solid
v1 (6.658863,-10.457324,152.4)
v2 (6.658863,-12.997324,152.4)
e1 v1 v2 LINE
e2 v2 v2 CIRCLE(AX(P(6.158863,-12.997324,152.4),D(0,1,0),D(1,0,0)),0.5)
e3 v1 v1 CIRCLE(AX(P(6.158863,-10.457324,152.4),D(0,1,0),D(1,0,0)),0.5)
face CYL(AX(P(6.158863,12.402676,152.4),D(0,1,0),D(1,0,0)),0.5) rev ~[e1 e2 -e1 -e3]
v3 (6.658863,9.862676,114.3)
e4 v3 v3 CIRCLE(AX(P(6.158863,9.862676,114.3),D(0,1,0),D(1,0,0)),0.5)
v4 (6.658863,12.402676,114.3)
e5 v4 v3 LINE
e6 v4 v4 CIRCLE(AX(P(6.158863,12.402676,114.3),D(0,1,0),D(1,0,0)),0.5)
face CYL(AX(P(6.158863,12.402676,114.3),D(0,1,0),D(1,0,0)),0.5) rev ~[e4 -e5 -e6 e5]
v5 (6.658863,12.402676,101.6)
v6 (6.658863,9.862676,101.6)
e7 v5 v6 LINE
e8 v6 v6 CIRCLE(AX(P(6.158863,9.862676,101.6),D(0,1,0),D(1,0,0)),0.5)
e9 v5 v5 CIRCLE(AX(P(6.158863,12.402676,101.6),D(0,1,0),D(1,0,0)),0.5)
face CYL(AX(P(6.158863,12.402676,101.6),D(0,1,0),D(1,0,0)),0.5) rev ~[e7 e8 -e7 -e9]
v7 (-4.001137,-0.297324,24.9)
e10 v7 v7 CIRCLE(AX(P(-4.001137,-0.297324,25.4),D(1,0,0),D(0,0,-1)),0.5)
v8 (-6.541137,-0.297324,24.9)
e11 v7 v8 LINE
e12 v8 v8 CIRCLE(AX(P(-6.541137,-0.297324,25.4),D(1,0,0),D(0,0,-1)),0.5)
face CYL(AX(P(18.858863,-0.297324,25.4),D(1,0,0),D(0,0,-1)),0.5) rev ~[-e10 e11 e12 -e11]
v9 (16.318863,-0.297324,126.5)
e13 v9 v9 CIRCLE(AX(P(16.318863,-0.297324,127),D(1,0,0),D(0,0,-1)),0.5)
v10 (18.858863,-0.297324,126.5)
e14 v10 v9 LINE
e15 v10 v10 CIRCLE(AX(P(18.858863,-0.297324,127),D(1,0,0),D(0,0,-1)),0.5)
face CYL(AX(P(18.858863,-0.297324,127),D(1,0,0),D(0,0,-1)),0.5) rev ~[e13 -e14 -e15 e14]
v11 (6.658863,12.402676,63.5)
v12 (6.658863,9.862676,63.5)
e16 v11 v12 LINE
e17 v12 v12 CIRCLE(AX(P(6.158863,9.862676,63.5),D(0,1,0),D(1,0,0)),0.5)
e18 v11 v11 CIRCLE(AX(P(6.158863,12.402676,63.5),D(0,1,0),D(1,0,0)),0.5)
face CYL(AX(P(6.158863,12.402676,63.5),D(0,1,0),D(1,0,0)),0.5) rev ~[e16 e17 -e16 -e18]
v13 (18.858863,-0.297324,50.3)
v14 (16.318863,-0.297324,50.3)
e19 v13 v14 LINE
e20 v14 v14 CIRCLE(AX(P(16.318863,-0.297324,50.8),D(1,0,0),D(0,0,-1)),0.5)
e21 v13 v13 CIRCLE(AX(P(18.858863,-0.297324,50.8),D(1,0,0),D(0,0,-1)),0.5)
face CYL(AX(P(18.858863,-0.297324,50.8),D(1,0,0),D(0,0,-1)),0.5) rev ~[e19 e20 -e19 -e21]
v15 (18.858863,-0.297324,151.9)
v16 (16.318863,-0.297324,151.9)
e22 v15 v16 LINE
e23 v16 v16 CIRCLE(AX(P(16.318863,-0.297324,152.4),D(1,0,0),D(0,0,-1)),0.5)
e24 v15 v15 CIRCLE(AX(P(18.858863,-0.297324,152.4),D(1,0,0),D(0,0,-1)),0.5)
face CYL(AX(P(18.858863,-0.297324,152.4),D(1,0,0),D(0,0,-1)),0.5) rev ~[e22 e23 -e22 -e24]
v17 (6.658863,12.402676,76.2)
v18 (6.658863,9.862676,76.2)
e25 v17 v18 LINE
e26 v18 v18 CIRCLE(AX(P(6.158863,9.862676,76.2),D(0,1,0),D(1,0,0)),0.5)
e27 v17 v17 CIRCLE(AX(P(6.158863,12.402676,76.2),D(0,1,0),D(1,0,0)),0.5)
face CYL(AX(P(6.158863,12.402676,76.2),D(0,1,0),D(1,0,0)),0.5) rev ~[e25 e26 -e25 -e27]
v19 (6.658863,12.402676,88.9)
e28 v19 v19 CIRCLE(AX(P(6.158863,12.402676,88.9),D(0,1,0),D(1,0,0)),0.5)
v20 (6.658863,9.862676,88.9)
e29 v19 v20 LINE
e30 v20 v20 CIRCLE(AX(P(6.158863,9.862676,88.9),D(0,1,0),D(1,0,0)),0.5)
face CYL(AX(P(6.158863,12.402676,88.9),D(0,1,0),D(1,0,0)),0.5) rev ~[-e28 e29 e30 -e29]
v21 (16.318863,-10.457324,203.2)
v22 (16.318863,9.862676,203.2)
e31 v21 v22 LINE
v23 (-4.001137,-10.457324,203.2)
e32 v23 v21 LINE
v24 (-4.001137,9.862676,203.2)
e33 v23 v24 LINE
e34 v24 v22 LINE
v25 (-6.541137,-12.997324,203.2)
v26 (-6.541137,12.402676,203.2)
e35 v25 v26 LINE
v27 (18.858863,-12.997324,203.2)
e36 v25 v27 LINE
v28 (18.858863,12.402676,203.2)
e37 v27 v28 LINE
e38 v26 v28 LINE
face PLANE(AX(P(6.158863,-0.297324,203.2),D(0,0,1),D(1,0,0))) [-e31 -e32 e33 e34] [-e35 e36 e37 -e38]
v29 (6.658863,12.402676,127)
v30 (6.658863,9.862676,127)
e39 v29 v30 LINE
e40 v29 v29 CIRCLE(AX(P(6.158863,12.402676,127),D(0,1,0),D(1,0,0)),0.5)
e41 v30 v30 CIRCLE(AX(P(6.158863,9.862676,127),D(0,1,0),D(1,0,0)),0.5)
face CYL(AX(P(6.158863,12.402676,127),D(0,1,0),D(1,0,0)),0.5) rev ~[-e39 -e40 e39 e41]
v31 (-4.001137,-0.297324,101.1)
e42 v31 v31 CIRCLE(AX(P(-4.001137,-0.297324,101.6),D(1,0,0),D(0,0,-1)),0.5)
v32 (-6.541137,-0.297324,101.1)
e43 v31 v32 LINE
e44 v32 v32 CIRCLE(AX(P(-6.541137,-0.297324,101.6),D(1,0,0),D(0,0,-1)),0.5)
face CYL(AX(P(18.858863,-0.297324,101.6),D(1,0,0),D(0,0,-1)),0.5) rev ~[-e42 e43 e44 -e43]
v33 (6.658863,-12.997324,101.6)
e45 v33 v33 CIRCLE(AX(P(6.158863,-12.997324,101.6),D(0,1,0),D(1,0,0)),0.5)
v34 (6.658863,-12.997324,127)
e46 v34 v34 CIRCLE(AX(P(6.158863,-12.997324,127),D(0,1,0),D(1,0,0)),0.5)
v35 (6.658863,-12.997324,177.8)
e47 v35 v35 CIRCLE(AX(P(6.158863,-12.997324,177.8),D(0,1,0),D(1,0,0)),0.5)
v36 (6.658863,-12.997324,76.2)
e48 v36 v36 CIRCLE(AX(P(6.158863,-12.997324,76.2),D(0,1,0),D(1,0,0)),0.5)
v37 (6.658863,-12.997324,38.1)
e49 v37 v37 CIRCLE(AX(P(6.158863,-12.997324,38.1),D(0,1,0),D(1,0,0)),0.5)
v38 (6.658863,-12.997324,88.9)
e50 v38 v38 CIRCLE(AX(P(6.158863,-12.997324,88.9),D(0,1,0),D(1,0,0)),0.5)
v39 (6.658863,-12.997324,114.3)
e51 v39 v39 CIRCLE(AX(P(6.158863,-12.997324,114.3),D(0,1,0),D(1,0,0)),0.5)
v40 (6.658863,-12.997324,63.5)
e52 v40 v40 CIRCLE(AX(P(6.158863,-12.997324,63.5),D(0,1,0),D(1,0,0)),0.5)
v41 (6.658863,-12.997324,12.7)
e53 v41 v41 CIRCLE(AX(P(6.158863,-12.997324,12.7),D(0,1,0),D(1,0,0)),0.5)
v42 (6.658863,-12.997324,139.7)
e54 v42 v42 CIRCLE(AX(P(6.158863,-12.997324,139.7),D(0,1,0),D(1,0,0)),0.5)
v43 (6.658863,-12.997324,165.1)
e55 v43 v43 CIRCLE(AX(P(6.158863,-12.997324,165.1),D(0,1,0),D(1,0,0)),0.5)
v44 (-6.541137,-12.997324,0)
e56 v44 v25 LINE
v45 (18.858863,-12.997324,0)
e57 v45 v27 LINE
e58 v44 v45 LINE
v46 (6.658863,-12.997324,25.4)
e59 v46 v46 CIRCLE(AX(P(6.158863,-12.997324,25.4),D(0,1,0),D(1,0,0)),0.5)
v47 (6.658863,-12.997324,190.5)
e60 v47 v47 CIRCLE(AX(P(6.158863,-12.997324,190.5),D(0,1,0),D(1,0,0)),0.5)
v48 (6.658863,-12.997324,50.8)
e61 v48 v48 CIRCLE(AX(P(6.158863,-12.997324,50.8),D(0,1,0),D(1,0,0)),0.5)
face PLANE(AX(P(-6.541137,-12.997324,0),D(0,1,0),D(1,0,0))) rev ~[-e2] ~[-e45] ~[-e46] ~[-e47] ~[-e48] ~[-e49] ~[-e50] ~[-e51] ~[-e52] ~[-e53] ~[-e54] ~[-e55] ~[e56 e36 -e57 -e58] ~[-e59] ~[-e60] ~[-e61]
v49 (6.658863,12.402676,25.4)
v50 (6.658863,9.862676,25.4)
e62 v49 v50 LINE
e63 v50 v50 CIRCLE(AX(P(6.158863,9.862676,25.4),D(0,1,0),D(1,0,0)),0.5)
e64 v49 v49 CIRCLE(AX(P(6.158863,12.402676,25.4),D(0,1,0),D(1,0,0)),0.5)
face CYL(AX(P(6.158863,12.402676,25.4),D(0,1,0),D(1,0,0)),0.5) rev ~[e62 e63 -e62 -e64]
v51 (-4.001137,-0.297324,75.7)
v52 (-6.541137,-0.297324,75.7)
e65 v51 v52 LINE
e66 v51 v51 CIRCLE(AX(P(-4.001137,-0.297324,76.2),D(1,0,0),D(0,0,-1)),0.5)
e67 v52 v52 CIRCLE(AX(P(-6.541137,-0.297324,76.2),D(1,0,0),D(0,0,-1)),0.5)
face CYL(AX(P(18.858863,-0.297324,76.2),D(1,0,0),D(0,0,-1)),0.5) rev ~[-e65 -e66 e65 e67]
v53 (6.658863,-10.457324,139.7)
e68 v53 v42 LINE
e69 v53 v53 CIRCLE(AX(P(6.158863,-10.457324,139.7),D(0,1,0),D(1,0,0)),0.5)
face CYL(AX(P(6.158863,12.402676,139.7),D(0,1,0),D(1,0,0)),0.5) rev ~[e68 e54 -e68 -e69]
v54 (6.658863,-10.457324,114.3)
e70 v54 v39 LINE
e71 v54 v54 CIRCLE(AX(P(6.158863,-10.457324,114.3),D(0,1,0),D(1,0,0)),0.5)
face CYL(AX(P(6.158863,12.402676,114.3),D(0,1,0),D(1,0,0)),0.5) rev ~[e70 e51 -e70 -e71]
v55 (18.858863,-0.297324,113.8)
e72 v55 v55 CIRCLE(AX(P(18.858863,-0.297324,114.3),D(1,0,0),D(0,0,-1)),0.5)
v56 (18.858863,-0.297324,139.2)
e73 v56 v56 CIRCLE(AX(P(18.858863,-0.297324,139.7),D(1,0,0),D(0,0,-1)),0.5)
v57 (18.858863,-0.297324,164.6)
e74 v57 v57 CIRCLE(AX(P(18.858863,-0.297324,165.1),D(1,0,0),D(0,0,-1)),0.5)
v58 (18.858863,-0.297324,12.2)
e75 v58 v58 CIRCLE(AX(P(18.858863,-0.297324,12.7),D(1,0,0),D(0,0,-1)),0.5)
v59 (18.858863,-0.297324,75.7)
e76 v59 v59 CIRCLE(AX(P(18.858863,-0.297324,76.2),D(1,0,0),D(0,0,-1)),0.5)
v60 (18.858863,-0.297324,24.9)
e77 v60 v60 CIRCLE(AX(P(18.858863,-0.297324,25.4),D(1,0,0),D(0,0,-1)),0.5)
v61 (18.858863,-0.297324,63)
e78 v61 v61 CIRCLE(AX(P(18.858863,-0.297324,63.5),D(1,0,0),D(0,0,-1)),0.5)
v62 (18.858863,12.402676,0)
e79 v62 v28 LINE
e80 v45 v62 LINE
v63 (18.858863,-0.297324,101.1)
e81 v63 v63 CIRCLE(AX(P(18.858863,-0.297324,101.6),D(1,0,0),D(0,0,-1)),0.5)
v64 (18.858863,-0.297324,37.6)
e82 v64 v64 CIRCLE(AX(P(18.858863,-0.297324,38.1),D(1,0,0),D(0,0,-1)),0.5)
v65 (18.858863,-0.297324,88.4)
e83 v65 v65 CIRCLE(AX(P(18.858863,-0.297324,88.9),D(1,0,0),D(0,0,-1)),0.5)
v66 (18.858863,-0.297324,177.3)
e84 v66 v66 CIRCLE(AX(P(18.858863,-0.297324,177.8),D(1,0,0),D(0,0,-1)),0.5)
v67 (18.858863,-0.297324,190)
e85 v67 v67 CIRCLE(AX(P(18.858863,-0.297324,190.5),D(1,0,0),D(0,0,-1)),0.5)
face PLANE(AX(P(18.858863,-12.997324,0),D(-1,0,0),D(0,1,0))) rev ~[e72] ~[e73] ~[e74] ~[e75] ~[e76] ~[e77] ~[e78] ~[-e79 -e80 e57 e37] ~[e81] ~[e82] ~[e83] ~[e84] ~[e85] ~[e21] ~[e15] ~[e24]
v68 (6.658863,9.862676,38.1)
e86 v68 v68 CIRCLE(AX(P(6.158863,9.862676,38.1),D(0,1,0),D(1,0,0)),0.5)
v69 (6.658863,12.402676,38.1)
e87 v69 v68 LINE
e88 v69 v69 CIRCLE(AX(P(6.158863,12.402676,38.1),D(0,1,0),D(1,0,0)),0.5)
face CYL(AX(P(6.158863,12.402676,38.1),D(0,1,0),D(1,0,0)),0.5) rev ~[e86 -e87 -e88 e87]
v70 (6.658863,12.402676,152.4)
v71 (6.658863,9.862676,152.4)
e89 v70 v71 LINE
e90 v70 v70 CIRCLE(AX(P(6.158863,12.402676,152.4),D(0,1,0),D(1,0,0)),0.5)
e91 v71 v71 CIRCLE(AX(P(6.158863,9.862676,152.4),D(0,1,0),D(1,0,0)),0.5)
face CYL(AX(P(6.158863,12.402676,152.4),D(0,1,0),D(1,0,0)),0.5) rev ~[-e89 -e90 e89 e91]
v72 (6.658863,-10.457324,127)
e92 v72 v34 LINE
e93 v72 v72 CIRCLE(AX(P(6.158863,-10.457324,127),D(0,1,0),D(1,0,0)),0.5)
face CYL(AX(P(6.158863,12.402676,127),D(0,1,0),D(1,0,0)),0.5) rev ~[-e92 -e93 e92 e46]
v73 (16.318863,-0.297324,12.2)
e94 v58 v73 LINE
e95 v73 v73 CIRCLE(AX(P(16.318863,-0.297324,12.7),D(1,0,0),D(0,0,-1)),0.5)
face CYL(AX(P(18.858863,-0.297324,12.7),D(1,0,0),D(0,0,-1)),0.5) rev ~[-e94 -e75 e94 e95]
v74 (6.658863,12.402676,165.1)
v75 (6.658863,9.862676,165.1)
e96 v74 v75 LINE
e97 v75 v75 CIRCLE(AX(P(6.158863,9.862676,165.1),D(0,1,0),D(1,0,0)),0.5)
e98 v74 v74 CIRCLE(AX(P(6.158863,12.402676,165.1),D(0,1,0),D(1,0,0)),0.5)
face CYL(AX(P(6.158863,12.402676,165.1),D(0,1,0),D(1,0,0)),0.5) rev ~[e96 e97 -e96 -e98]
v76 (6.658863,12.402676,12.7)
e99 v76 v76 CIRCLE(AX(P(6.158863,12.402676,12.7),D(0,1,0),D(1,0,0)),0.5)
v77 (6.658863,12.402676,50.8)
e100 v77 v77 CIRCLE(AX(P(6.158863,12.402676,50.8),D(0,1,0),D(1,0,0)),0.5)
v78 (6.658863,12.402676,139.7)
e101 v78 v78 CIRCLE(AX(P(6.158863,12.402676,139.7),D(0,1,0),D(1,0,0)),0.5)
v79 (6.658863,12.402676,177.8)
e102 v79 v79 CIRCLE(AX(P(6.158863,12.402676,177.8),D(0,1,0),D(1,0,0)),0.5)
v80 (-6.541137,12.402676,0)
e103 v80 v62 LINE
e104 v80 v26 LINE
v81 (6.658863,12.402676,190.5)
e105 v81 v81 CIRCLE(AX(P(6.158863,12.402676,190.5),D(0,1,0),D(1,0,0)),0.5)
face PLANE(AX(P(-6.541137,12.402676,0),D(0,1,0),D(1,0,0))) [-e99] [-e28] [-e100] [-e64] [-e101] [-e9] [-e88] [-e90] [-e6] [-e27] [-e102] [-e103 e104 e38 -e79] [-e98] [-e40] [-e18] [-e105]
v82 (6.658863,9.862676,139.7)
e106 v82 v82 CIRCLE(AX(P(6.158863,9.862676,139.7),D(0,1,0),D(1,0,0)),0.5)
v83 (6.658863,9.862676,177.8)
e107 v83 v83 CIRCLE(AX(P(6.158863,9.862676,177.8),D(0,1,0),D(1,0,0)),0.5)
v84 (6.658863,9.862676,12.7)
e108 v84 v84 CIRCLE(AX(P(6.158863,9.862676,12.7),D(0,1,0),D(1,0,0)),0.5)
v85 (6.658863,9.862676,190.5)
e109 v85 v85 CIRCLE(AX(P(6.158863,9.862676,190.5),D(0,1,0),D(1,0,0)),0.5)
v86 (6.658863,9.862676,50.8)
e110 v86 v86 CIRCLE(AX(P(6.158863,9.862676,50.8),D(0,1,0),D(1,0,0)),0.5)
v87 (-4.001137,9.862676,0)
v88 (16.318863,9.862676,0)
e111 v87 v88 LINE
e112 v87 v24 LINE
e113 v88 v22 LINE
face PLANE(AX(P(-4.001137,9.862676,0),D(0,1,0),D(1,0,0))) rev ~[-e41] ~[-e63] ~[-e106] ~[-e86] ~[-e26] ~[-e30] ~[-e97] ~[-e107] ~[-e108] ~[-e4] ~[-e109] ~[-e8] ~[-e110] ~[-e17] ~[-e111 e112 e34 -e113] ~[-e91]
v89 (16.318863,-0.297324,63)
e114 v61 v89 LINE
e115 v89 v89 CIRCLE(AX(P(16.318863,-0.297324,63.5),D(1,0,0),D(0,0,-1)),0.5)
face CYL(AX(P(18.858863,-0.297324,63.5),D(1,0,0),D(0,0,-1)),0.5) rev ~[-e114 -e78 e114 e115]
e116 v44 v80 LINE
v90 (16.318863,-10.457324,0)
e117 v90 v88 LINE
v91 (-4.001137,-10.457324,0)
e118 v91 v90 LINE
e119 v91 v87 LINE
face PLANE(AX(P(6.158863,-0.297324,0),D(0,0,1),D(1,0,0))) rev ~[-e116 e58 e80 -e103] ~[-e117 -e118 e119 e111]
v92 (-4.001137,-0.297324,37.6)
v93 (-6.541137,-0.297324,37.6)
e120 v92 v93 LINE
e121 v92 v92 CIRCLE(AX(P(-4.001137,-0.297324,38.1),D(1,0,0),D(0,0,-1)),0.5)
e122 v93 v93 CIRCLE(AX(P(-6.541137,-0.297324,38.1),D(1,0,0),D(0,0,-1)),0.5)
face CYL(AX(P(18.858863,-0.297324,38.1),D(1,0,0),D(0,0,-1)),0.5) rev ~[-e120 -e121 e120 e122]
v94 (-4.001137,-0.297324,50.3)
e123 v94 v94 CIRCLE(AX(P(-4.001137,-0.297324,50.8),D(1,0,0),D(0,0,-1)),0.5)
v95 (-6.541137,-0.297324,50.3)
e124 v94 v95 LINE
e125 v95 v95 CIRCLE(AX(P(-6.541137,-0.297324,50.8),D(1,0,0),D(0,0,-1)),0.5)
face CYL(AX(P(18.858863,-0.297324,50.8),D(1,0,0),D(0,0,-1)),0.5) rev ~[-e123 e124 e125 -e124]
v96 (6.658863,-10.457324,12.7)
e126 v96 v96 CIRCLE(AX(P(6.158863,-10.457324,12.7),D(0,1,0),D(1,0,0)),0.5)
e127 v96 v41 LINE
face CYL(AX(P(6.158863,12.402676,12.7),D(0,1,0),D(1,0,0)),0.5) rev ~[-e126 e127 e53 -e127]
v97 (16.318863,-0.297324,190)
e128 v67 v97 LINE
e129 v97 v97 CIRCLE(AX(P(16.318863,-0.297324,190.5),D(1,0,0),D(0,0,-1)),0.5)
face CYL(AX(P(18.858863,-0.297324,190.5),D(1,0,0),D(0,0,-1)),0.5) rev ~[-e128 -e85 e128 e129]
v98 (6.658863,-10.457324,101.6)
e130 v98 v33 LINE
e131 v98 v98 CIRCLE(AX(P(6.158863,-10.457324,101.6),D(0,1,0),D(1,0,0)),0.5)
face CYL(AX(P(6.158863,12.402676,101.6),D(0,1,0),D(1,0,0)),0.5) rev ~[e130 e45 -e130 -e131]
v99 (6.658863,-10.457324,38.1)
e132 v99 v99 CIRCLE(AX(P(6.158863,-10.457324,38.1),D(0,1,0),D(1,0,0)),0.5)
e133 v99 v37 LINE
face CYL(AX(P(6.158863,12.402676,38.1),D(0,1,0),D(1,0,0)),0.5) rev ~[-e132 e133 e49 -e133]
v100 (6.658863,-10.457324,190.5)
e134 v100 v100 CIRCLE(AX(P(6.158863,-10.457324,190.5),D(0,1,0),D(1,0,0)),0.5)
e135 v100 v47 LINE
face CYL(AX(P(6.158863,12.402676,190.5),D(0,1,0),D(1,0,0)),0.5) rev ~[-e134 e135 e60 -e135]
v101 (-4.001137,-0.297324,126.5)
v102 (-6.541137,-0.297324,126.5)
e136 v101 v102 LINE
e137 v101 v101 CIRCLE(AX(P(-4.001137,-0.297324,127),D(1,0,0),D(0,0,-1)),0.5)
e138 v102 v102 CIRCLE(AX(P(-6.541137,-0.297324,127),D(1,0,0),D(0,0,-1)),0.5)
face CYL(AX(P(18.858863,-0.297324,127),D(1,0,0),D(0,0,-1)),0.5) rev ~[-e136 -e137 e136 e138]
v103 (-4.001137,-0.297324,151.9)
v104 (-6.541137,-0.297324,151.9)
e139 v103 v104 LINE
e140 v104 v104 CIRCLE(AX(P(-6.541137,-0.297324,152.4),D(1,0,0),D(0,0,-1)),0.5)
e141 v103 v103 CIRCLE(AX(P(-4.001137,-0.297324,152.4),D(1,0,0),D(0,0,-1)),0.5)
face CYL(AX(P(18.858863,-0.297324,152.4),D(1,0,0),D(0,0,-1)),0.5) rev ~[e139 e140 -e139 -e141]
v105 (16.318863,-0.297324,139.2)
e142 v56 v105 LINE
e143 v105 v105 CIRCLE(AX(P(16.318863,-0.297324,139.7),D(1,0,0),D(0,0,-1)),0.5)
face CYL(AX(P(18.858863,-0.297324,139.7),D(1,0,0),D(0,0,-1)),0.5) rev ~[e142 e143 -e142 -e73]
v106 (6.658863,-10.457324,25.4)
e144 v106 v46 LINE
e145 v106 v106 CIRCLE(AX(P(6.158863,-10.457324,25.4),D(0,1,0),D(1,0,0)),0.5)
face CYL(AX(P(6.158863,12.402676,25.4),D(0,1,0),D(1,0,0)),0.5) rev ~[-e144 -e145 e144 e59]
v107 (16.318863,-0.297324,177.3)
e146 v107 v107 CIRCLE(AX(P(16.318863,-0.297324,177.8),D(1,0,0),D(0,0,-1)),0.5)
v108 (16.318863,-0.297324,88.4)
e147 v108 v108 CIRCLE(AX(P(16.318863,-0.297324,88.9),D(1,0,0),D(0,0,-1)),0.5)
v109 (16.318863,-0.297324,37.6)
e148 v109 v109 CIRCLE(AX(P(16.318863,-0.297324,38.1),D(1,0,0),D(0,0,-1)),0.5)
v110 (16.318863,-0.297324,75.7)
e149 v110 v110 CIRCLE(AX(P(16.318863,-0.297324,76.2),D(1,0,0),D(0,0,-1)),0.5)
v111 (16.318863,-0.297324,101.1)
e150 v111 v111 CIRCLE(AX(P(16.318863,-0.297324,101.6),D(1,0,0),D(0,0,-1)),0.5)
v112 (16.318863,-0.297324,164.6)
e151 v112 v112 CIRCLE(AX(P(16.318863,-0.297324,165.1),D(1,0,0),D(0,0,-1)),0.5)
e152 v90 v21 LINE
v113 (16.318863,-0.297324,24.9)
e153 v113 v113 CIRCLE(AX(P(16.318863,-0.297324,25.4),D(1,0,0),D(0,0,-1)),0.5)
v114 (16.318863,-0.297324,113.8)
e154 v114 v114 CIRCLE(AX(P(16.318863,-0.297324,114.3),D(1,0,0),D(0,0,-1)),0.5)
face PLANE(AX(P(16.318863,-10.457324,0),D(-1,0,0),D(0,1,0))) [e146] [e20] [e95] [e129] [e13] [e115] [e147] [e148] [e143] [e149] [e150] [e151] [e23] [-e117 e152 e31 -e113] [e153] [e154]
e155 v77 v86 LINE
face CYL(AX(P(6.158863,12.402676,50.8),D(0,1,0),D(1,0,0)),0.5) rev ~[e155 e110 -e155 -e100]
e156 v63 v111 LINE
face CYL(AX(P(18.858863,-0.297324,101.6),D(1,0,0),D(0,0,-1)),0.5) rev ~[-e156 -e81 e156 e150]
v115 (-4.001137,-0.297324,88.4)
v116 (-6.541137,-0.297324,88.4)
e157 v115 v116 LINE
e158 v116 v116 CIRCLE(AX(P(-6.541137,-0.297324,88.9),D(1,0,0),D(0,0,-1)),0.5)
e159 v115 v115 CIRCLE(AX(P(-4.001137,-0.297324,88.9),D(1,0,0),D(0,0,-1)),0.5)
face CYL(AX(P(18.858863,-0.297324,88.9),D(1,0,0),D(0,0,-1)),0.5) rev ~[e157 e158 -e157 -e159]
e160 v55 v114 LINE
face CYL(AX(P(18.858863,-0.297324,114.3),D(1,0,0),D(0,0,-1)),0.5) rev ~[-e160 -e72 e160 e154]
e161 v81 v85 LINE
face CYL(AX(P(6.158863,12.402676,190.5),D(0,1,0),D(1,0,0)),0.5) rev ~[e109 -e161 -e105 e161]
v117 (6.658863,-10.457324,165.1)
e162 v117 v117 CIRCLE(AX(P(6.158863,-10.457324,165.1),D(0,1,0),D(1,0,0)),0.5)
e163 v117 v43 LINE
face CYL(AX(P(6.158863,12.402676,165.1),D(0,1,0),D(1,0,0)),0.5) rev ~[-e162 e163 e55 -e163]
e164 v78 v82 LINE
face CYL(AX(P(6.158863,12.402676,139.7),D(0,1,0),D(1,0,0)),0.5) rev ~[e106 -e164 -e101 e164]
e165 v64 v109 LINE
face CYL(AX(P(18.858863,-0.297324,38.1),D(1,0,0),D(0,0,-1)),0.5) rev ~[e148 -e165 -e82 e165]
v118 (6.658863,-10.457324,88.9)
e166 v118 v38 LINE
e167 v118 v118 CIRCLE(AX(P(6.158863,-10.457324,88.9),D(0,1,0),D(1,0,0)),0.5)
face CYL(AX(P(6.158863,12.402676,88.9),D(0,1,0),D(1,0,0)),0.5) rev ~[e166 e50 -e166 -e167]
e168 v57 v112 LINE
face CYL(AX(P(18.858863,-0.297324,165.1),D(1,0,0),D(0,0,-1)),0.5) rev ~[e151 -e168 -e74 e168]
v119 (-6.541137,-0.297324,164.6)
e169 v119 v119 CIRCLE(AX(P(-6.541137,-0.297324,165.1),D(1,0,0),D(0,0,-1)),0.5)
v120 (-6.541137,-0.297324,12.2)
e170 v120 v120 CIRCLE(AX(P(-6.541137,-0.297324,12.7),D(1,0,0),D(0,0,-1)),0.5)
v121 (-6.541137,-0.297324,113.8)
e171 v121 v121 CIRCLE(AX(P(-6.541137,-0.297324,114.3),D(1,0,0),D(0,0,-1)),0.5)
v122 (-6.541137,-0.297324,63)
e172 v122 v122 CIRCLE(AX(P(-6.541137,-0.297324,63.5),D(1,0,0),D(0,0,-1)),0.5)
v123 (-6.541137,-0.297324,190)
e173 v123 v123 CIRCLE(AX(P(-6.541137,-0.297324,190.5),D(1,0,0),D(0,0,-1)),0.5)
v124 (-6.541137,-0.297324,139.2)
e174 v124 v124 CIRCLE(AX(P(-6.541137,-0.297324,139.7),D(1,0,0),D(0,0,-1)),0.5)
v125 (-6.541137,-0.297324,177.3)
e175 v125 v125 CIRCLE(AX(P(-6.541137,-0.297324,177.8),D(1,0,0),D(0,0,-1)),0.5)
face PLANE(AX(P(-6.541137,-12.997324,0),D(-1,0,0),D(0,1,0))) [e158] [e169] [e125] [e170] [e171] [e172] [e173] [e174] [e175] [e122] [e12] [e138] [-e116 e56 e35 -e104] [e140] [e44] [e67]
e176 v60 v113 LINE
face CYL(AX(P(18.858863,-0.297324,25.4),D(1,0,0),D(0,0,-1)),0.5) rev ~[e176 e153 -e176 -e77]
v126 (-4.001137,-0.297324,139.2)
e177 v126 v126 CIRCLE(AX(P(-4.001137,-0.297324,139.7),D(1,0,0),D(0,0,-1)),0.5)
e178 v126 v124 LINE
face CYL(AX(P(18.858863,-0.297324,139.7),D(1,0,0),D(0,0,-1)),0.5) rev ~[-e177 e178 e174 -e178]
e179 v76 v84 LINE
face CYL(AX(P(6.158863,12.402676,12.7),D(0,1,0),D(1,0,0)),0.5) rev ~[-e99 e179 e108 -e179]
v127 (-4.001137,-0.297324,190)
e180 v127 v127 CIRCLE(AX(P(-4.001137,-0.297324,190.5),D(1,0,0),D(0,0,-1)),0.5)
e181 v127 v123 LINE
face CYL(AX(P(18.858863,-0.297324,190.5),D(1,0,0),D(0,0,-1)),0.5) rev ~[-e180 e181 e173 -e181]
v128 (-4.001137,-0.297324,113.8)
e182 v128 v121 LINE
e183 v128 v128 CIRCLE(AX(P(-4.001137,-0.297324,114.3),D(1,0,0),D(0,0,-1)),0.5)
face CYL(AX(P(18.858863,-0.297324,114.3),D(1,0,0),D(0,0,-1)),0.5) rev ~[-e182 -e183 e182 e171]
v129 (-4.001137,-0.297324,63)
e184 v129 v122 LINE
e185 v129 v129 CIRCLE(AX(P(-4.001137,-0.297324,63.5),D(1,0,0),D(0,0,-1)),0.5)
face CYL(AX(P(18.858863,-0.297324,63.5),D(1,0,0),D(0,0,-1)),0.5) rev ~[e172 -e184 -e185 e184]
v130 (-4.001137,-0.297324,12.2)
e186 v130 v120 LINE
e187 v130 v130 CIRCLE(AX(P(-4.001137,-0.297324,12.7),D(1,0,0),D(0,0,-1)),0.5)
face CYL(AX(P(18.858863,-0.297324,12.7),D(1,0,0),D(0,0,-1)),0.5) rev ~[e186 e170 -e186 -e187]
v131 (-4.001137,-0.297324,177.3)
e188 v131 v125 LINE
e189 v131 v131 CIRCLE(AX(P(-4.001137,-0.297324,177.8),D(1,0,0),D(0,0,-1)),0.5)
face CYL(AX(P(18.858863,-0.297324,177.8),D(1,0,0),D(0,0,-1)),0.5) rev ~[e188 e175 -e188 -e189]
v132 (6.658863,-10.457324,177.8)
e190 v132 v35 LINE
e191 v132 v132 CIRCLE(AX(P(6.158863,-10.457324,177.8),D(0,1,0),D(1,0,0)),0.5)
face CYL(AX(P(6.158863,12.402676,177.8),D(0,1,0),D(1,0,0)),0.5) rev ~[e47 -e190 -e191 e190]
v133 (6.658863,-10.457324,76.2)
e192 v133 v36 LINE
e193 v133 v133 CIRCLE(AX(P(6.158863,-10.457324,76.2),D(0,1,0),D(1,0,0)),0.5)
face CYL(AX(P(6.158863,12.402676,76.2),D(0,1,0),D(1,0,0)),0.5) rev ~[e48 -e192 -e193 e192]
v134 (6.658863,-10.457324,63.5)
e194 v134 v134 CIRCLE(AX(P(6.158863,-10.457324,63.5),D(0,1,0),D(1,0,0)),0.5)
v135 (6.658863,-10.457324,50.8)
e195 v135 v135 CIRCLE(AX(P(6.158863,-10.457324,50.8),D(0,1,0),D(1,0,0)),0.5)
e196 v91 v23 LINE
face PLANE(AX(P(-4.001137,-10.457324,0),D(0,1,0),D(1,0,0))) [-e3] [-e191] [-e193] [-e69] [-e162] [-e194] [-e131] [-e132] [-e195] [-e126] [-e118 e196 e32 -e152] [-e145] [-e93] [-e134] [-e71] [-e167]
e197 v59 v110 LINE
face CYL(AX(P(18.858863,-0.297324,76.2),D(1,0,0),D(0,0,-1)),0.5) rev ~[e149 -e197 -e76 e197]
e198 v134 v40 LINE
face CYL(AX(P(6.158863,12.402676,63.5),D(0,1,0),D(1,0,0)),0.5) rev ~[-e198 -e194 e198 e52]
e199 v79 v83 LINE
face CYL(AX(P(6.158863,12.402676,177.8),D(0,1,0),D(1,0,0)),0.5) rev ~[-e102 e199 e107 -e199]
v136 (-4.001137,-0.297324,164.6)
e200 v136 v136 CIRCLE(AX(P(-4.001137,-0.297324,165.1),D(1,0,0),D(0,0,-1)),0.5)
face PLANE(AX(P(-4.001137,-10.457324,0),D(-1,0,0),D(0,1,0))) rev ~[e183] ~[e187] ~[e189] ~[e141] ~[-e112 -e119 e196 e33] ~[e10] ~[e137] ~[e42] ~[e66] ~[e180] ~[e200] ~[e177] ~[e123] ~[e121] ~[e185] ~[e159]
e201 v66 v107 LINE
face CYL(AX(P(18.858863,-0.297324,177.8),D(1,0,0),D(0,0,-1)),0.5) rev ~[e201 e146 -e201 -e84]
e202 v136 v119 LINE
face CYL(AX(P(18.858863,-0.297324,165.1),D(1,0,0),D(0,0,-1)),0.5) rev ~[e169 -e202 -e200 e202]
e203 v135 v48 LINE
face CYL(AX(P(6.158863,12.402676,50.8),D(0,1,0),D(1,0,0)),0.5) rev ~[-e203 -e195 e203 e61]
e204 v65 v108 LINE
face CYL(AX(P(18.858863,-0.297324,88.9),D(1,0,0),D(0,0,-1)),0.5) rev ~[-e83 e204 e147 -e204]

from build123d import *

# Parameters (mm, degrees)
SKETCH1_W               = 25.4
SKETCH1_H               = 25.4
SKETCH1_W_2             = 20.32
SKETCH1_H_2             = 20.32
BOSS_EXTRUDE1_DEPTH     = 203.2
SKETCH2_R               = 0.5
CUT_EXTRUDE1_DEPTH      = 1
CUT_EXTRUDE1_DEPTH_BACK = 26.4
SKETCH3_R               = 0.5
CUT_EXTRUDE2_DEPTH      = 1
CUT_EXTRUDE2_DEPTH_BACK = 26.4


with BuildPart() as part:
    # Sketch1 → Boss-Extrude1 (new body)
    with BuildSketch(Plane.XY):
        with Locations((6.158862876, -0.297324415)):
            Rectangle(SKETCH1_W, SKETCH1_H)
        with Locations((6.158862876, -0.297324415)):
            Rectangle(SKETCH1_W_2, SKETCH1_H_2, mode=Mode.SUBTRACT)
    extrude(amount=BOSS_EXTRUDE1_DEPTH)

    # Sketch2 → Cut-Extrude1 (cut, two sides)
    with BuildSketch(Plane(origin=(18.858862876, 0, 0), x_dir=(0, 0, -1), z_dir=(1, 0, 0))) as cut_extrude1_sk:
        with Locations((-190.5, -0.297324415)):
            Circle(SKETCH2_R)
        with Locations((-177.8, -0.297324415)):
            Circle(SKETCH2_R)
        with Locations((-165.1, -0.297324415)):
            Circle(SKETCH2_R)
        with Locations((-152.4, -0.297324415)):
            Circle(SKETCH2_R)
        with Locations((-139.7, -0.297324415)):
            Circle(SKETCH2_R)
        with Locations((-127, -0.297324415)):
            Circle(SKETCH2_R)
        with Locations((-114.3, -0.297324415)):
            Circle(SKETCH2_R)
        with Locations((-101.6, -0.297324415)):
            Circle(SKETCH2_R)
        with Locations((-88.9, -0.297324415)):
            Circle(SKETCH2_R)
        with Locations((-76.2, -0.297324415)):
            Circle(SKETCH2_R)
        with Locations((-63.5, -0.297324415)):
            Circle(SKETCH2_R)
        with Locations((-50.8, -0.297324415)):
            Circle(SKETCH2_R)
        with Locations((-38.1, -0.297324415)):
            Circle(SKETCH2_R)
        with Locations((-25.4, -0.297324415)):
            Circle(SKETCH2_R)
        with Locations((-12.7, -0.297324415)):
            Circle(SKETCH2_R)
    extrude(amount=CUT_EXTRUDE1_DEPTH, mode=Mode.SUBTRACT)
    extrude(cut_extrude1_sk.sketch, amount=-CUT_EXTRUDE1_DEPTH_BACK, mode=Mode.SUBTRACT)

    # Sketch3 → Cut-Extrude2 (cut, two sides)
    with BuildSketch(Plane(origin=(0, 12.402675585, 0), x_dir=(1, 0, 0), z_dir=(0, 1, 0))) as cut_extrude2_sk:
        with Locations((6.158862876, -190.5)):
            Circle(SKETCH3_R)
        with Locations((6.158862876, -177.8)):
            Circle(SKETCH3_R)
        with Locations((6.158862876, -165.1)):
            Circle(SKETCH3_R)
        with Locations((6.158862876, -152.4)):
            Circle(SKETCH3_R)
        with Locations((6.158862876, -139.7)):
            Circle(SKETCH3_R)
        with Locations((6.158862876, -127)):
            Circle(SKETCH3_R)
        with Locations((6.158862876, -114.3)):
            Circle(SKETCH3_R)
        with Locations((6.158862876, -101.6)):
            Circle(SKETCH3_R)
        with Locations((6.158862876, -88.9)):
            Circle(SKETCH3_R)
        with Locations((6.158862876, -76.2)):
            Circle(SKETCH3_R)
        with Locations((6.158862876, -63.5)):
            Circle(SKETCH3_R)
        with Locations((6.158862876, -50.8)):
            Circle(SKETCH3_R)
        with Locations((6.158862876, -38.1)):
            Circle(SKETCH3_R)
        with Locations((6.158862876, -25.4)):
            Circle(SKETCH3_R)
        with Locations((6.158862876, -12.7)):
            Circle(SKETCH3_R)
    extrude(amount=CUT_EXTRUDE2_DEPTH, mode=Mode.SUBTRACT)
    extrude(cut_extrude2_sk.sketch, amount=-CUT_EXTRUDE2_DEPTH_BACK, mode=Mode.SUBTRACT)


solid = part.part
